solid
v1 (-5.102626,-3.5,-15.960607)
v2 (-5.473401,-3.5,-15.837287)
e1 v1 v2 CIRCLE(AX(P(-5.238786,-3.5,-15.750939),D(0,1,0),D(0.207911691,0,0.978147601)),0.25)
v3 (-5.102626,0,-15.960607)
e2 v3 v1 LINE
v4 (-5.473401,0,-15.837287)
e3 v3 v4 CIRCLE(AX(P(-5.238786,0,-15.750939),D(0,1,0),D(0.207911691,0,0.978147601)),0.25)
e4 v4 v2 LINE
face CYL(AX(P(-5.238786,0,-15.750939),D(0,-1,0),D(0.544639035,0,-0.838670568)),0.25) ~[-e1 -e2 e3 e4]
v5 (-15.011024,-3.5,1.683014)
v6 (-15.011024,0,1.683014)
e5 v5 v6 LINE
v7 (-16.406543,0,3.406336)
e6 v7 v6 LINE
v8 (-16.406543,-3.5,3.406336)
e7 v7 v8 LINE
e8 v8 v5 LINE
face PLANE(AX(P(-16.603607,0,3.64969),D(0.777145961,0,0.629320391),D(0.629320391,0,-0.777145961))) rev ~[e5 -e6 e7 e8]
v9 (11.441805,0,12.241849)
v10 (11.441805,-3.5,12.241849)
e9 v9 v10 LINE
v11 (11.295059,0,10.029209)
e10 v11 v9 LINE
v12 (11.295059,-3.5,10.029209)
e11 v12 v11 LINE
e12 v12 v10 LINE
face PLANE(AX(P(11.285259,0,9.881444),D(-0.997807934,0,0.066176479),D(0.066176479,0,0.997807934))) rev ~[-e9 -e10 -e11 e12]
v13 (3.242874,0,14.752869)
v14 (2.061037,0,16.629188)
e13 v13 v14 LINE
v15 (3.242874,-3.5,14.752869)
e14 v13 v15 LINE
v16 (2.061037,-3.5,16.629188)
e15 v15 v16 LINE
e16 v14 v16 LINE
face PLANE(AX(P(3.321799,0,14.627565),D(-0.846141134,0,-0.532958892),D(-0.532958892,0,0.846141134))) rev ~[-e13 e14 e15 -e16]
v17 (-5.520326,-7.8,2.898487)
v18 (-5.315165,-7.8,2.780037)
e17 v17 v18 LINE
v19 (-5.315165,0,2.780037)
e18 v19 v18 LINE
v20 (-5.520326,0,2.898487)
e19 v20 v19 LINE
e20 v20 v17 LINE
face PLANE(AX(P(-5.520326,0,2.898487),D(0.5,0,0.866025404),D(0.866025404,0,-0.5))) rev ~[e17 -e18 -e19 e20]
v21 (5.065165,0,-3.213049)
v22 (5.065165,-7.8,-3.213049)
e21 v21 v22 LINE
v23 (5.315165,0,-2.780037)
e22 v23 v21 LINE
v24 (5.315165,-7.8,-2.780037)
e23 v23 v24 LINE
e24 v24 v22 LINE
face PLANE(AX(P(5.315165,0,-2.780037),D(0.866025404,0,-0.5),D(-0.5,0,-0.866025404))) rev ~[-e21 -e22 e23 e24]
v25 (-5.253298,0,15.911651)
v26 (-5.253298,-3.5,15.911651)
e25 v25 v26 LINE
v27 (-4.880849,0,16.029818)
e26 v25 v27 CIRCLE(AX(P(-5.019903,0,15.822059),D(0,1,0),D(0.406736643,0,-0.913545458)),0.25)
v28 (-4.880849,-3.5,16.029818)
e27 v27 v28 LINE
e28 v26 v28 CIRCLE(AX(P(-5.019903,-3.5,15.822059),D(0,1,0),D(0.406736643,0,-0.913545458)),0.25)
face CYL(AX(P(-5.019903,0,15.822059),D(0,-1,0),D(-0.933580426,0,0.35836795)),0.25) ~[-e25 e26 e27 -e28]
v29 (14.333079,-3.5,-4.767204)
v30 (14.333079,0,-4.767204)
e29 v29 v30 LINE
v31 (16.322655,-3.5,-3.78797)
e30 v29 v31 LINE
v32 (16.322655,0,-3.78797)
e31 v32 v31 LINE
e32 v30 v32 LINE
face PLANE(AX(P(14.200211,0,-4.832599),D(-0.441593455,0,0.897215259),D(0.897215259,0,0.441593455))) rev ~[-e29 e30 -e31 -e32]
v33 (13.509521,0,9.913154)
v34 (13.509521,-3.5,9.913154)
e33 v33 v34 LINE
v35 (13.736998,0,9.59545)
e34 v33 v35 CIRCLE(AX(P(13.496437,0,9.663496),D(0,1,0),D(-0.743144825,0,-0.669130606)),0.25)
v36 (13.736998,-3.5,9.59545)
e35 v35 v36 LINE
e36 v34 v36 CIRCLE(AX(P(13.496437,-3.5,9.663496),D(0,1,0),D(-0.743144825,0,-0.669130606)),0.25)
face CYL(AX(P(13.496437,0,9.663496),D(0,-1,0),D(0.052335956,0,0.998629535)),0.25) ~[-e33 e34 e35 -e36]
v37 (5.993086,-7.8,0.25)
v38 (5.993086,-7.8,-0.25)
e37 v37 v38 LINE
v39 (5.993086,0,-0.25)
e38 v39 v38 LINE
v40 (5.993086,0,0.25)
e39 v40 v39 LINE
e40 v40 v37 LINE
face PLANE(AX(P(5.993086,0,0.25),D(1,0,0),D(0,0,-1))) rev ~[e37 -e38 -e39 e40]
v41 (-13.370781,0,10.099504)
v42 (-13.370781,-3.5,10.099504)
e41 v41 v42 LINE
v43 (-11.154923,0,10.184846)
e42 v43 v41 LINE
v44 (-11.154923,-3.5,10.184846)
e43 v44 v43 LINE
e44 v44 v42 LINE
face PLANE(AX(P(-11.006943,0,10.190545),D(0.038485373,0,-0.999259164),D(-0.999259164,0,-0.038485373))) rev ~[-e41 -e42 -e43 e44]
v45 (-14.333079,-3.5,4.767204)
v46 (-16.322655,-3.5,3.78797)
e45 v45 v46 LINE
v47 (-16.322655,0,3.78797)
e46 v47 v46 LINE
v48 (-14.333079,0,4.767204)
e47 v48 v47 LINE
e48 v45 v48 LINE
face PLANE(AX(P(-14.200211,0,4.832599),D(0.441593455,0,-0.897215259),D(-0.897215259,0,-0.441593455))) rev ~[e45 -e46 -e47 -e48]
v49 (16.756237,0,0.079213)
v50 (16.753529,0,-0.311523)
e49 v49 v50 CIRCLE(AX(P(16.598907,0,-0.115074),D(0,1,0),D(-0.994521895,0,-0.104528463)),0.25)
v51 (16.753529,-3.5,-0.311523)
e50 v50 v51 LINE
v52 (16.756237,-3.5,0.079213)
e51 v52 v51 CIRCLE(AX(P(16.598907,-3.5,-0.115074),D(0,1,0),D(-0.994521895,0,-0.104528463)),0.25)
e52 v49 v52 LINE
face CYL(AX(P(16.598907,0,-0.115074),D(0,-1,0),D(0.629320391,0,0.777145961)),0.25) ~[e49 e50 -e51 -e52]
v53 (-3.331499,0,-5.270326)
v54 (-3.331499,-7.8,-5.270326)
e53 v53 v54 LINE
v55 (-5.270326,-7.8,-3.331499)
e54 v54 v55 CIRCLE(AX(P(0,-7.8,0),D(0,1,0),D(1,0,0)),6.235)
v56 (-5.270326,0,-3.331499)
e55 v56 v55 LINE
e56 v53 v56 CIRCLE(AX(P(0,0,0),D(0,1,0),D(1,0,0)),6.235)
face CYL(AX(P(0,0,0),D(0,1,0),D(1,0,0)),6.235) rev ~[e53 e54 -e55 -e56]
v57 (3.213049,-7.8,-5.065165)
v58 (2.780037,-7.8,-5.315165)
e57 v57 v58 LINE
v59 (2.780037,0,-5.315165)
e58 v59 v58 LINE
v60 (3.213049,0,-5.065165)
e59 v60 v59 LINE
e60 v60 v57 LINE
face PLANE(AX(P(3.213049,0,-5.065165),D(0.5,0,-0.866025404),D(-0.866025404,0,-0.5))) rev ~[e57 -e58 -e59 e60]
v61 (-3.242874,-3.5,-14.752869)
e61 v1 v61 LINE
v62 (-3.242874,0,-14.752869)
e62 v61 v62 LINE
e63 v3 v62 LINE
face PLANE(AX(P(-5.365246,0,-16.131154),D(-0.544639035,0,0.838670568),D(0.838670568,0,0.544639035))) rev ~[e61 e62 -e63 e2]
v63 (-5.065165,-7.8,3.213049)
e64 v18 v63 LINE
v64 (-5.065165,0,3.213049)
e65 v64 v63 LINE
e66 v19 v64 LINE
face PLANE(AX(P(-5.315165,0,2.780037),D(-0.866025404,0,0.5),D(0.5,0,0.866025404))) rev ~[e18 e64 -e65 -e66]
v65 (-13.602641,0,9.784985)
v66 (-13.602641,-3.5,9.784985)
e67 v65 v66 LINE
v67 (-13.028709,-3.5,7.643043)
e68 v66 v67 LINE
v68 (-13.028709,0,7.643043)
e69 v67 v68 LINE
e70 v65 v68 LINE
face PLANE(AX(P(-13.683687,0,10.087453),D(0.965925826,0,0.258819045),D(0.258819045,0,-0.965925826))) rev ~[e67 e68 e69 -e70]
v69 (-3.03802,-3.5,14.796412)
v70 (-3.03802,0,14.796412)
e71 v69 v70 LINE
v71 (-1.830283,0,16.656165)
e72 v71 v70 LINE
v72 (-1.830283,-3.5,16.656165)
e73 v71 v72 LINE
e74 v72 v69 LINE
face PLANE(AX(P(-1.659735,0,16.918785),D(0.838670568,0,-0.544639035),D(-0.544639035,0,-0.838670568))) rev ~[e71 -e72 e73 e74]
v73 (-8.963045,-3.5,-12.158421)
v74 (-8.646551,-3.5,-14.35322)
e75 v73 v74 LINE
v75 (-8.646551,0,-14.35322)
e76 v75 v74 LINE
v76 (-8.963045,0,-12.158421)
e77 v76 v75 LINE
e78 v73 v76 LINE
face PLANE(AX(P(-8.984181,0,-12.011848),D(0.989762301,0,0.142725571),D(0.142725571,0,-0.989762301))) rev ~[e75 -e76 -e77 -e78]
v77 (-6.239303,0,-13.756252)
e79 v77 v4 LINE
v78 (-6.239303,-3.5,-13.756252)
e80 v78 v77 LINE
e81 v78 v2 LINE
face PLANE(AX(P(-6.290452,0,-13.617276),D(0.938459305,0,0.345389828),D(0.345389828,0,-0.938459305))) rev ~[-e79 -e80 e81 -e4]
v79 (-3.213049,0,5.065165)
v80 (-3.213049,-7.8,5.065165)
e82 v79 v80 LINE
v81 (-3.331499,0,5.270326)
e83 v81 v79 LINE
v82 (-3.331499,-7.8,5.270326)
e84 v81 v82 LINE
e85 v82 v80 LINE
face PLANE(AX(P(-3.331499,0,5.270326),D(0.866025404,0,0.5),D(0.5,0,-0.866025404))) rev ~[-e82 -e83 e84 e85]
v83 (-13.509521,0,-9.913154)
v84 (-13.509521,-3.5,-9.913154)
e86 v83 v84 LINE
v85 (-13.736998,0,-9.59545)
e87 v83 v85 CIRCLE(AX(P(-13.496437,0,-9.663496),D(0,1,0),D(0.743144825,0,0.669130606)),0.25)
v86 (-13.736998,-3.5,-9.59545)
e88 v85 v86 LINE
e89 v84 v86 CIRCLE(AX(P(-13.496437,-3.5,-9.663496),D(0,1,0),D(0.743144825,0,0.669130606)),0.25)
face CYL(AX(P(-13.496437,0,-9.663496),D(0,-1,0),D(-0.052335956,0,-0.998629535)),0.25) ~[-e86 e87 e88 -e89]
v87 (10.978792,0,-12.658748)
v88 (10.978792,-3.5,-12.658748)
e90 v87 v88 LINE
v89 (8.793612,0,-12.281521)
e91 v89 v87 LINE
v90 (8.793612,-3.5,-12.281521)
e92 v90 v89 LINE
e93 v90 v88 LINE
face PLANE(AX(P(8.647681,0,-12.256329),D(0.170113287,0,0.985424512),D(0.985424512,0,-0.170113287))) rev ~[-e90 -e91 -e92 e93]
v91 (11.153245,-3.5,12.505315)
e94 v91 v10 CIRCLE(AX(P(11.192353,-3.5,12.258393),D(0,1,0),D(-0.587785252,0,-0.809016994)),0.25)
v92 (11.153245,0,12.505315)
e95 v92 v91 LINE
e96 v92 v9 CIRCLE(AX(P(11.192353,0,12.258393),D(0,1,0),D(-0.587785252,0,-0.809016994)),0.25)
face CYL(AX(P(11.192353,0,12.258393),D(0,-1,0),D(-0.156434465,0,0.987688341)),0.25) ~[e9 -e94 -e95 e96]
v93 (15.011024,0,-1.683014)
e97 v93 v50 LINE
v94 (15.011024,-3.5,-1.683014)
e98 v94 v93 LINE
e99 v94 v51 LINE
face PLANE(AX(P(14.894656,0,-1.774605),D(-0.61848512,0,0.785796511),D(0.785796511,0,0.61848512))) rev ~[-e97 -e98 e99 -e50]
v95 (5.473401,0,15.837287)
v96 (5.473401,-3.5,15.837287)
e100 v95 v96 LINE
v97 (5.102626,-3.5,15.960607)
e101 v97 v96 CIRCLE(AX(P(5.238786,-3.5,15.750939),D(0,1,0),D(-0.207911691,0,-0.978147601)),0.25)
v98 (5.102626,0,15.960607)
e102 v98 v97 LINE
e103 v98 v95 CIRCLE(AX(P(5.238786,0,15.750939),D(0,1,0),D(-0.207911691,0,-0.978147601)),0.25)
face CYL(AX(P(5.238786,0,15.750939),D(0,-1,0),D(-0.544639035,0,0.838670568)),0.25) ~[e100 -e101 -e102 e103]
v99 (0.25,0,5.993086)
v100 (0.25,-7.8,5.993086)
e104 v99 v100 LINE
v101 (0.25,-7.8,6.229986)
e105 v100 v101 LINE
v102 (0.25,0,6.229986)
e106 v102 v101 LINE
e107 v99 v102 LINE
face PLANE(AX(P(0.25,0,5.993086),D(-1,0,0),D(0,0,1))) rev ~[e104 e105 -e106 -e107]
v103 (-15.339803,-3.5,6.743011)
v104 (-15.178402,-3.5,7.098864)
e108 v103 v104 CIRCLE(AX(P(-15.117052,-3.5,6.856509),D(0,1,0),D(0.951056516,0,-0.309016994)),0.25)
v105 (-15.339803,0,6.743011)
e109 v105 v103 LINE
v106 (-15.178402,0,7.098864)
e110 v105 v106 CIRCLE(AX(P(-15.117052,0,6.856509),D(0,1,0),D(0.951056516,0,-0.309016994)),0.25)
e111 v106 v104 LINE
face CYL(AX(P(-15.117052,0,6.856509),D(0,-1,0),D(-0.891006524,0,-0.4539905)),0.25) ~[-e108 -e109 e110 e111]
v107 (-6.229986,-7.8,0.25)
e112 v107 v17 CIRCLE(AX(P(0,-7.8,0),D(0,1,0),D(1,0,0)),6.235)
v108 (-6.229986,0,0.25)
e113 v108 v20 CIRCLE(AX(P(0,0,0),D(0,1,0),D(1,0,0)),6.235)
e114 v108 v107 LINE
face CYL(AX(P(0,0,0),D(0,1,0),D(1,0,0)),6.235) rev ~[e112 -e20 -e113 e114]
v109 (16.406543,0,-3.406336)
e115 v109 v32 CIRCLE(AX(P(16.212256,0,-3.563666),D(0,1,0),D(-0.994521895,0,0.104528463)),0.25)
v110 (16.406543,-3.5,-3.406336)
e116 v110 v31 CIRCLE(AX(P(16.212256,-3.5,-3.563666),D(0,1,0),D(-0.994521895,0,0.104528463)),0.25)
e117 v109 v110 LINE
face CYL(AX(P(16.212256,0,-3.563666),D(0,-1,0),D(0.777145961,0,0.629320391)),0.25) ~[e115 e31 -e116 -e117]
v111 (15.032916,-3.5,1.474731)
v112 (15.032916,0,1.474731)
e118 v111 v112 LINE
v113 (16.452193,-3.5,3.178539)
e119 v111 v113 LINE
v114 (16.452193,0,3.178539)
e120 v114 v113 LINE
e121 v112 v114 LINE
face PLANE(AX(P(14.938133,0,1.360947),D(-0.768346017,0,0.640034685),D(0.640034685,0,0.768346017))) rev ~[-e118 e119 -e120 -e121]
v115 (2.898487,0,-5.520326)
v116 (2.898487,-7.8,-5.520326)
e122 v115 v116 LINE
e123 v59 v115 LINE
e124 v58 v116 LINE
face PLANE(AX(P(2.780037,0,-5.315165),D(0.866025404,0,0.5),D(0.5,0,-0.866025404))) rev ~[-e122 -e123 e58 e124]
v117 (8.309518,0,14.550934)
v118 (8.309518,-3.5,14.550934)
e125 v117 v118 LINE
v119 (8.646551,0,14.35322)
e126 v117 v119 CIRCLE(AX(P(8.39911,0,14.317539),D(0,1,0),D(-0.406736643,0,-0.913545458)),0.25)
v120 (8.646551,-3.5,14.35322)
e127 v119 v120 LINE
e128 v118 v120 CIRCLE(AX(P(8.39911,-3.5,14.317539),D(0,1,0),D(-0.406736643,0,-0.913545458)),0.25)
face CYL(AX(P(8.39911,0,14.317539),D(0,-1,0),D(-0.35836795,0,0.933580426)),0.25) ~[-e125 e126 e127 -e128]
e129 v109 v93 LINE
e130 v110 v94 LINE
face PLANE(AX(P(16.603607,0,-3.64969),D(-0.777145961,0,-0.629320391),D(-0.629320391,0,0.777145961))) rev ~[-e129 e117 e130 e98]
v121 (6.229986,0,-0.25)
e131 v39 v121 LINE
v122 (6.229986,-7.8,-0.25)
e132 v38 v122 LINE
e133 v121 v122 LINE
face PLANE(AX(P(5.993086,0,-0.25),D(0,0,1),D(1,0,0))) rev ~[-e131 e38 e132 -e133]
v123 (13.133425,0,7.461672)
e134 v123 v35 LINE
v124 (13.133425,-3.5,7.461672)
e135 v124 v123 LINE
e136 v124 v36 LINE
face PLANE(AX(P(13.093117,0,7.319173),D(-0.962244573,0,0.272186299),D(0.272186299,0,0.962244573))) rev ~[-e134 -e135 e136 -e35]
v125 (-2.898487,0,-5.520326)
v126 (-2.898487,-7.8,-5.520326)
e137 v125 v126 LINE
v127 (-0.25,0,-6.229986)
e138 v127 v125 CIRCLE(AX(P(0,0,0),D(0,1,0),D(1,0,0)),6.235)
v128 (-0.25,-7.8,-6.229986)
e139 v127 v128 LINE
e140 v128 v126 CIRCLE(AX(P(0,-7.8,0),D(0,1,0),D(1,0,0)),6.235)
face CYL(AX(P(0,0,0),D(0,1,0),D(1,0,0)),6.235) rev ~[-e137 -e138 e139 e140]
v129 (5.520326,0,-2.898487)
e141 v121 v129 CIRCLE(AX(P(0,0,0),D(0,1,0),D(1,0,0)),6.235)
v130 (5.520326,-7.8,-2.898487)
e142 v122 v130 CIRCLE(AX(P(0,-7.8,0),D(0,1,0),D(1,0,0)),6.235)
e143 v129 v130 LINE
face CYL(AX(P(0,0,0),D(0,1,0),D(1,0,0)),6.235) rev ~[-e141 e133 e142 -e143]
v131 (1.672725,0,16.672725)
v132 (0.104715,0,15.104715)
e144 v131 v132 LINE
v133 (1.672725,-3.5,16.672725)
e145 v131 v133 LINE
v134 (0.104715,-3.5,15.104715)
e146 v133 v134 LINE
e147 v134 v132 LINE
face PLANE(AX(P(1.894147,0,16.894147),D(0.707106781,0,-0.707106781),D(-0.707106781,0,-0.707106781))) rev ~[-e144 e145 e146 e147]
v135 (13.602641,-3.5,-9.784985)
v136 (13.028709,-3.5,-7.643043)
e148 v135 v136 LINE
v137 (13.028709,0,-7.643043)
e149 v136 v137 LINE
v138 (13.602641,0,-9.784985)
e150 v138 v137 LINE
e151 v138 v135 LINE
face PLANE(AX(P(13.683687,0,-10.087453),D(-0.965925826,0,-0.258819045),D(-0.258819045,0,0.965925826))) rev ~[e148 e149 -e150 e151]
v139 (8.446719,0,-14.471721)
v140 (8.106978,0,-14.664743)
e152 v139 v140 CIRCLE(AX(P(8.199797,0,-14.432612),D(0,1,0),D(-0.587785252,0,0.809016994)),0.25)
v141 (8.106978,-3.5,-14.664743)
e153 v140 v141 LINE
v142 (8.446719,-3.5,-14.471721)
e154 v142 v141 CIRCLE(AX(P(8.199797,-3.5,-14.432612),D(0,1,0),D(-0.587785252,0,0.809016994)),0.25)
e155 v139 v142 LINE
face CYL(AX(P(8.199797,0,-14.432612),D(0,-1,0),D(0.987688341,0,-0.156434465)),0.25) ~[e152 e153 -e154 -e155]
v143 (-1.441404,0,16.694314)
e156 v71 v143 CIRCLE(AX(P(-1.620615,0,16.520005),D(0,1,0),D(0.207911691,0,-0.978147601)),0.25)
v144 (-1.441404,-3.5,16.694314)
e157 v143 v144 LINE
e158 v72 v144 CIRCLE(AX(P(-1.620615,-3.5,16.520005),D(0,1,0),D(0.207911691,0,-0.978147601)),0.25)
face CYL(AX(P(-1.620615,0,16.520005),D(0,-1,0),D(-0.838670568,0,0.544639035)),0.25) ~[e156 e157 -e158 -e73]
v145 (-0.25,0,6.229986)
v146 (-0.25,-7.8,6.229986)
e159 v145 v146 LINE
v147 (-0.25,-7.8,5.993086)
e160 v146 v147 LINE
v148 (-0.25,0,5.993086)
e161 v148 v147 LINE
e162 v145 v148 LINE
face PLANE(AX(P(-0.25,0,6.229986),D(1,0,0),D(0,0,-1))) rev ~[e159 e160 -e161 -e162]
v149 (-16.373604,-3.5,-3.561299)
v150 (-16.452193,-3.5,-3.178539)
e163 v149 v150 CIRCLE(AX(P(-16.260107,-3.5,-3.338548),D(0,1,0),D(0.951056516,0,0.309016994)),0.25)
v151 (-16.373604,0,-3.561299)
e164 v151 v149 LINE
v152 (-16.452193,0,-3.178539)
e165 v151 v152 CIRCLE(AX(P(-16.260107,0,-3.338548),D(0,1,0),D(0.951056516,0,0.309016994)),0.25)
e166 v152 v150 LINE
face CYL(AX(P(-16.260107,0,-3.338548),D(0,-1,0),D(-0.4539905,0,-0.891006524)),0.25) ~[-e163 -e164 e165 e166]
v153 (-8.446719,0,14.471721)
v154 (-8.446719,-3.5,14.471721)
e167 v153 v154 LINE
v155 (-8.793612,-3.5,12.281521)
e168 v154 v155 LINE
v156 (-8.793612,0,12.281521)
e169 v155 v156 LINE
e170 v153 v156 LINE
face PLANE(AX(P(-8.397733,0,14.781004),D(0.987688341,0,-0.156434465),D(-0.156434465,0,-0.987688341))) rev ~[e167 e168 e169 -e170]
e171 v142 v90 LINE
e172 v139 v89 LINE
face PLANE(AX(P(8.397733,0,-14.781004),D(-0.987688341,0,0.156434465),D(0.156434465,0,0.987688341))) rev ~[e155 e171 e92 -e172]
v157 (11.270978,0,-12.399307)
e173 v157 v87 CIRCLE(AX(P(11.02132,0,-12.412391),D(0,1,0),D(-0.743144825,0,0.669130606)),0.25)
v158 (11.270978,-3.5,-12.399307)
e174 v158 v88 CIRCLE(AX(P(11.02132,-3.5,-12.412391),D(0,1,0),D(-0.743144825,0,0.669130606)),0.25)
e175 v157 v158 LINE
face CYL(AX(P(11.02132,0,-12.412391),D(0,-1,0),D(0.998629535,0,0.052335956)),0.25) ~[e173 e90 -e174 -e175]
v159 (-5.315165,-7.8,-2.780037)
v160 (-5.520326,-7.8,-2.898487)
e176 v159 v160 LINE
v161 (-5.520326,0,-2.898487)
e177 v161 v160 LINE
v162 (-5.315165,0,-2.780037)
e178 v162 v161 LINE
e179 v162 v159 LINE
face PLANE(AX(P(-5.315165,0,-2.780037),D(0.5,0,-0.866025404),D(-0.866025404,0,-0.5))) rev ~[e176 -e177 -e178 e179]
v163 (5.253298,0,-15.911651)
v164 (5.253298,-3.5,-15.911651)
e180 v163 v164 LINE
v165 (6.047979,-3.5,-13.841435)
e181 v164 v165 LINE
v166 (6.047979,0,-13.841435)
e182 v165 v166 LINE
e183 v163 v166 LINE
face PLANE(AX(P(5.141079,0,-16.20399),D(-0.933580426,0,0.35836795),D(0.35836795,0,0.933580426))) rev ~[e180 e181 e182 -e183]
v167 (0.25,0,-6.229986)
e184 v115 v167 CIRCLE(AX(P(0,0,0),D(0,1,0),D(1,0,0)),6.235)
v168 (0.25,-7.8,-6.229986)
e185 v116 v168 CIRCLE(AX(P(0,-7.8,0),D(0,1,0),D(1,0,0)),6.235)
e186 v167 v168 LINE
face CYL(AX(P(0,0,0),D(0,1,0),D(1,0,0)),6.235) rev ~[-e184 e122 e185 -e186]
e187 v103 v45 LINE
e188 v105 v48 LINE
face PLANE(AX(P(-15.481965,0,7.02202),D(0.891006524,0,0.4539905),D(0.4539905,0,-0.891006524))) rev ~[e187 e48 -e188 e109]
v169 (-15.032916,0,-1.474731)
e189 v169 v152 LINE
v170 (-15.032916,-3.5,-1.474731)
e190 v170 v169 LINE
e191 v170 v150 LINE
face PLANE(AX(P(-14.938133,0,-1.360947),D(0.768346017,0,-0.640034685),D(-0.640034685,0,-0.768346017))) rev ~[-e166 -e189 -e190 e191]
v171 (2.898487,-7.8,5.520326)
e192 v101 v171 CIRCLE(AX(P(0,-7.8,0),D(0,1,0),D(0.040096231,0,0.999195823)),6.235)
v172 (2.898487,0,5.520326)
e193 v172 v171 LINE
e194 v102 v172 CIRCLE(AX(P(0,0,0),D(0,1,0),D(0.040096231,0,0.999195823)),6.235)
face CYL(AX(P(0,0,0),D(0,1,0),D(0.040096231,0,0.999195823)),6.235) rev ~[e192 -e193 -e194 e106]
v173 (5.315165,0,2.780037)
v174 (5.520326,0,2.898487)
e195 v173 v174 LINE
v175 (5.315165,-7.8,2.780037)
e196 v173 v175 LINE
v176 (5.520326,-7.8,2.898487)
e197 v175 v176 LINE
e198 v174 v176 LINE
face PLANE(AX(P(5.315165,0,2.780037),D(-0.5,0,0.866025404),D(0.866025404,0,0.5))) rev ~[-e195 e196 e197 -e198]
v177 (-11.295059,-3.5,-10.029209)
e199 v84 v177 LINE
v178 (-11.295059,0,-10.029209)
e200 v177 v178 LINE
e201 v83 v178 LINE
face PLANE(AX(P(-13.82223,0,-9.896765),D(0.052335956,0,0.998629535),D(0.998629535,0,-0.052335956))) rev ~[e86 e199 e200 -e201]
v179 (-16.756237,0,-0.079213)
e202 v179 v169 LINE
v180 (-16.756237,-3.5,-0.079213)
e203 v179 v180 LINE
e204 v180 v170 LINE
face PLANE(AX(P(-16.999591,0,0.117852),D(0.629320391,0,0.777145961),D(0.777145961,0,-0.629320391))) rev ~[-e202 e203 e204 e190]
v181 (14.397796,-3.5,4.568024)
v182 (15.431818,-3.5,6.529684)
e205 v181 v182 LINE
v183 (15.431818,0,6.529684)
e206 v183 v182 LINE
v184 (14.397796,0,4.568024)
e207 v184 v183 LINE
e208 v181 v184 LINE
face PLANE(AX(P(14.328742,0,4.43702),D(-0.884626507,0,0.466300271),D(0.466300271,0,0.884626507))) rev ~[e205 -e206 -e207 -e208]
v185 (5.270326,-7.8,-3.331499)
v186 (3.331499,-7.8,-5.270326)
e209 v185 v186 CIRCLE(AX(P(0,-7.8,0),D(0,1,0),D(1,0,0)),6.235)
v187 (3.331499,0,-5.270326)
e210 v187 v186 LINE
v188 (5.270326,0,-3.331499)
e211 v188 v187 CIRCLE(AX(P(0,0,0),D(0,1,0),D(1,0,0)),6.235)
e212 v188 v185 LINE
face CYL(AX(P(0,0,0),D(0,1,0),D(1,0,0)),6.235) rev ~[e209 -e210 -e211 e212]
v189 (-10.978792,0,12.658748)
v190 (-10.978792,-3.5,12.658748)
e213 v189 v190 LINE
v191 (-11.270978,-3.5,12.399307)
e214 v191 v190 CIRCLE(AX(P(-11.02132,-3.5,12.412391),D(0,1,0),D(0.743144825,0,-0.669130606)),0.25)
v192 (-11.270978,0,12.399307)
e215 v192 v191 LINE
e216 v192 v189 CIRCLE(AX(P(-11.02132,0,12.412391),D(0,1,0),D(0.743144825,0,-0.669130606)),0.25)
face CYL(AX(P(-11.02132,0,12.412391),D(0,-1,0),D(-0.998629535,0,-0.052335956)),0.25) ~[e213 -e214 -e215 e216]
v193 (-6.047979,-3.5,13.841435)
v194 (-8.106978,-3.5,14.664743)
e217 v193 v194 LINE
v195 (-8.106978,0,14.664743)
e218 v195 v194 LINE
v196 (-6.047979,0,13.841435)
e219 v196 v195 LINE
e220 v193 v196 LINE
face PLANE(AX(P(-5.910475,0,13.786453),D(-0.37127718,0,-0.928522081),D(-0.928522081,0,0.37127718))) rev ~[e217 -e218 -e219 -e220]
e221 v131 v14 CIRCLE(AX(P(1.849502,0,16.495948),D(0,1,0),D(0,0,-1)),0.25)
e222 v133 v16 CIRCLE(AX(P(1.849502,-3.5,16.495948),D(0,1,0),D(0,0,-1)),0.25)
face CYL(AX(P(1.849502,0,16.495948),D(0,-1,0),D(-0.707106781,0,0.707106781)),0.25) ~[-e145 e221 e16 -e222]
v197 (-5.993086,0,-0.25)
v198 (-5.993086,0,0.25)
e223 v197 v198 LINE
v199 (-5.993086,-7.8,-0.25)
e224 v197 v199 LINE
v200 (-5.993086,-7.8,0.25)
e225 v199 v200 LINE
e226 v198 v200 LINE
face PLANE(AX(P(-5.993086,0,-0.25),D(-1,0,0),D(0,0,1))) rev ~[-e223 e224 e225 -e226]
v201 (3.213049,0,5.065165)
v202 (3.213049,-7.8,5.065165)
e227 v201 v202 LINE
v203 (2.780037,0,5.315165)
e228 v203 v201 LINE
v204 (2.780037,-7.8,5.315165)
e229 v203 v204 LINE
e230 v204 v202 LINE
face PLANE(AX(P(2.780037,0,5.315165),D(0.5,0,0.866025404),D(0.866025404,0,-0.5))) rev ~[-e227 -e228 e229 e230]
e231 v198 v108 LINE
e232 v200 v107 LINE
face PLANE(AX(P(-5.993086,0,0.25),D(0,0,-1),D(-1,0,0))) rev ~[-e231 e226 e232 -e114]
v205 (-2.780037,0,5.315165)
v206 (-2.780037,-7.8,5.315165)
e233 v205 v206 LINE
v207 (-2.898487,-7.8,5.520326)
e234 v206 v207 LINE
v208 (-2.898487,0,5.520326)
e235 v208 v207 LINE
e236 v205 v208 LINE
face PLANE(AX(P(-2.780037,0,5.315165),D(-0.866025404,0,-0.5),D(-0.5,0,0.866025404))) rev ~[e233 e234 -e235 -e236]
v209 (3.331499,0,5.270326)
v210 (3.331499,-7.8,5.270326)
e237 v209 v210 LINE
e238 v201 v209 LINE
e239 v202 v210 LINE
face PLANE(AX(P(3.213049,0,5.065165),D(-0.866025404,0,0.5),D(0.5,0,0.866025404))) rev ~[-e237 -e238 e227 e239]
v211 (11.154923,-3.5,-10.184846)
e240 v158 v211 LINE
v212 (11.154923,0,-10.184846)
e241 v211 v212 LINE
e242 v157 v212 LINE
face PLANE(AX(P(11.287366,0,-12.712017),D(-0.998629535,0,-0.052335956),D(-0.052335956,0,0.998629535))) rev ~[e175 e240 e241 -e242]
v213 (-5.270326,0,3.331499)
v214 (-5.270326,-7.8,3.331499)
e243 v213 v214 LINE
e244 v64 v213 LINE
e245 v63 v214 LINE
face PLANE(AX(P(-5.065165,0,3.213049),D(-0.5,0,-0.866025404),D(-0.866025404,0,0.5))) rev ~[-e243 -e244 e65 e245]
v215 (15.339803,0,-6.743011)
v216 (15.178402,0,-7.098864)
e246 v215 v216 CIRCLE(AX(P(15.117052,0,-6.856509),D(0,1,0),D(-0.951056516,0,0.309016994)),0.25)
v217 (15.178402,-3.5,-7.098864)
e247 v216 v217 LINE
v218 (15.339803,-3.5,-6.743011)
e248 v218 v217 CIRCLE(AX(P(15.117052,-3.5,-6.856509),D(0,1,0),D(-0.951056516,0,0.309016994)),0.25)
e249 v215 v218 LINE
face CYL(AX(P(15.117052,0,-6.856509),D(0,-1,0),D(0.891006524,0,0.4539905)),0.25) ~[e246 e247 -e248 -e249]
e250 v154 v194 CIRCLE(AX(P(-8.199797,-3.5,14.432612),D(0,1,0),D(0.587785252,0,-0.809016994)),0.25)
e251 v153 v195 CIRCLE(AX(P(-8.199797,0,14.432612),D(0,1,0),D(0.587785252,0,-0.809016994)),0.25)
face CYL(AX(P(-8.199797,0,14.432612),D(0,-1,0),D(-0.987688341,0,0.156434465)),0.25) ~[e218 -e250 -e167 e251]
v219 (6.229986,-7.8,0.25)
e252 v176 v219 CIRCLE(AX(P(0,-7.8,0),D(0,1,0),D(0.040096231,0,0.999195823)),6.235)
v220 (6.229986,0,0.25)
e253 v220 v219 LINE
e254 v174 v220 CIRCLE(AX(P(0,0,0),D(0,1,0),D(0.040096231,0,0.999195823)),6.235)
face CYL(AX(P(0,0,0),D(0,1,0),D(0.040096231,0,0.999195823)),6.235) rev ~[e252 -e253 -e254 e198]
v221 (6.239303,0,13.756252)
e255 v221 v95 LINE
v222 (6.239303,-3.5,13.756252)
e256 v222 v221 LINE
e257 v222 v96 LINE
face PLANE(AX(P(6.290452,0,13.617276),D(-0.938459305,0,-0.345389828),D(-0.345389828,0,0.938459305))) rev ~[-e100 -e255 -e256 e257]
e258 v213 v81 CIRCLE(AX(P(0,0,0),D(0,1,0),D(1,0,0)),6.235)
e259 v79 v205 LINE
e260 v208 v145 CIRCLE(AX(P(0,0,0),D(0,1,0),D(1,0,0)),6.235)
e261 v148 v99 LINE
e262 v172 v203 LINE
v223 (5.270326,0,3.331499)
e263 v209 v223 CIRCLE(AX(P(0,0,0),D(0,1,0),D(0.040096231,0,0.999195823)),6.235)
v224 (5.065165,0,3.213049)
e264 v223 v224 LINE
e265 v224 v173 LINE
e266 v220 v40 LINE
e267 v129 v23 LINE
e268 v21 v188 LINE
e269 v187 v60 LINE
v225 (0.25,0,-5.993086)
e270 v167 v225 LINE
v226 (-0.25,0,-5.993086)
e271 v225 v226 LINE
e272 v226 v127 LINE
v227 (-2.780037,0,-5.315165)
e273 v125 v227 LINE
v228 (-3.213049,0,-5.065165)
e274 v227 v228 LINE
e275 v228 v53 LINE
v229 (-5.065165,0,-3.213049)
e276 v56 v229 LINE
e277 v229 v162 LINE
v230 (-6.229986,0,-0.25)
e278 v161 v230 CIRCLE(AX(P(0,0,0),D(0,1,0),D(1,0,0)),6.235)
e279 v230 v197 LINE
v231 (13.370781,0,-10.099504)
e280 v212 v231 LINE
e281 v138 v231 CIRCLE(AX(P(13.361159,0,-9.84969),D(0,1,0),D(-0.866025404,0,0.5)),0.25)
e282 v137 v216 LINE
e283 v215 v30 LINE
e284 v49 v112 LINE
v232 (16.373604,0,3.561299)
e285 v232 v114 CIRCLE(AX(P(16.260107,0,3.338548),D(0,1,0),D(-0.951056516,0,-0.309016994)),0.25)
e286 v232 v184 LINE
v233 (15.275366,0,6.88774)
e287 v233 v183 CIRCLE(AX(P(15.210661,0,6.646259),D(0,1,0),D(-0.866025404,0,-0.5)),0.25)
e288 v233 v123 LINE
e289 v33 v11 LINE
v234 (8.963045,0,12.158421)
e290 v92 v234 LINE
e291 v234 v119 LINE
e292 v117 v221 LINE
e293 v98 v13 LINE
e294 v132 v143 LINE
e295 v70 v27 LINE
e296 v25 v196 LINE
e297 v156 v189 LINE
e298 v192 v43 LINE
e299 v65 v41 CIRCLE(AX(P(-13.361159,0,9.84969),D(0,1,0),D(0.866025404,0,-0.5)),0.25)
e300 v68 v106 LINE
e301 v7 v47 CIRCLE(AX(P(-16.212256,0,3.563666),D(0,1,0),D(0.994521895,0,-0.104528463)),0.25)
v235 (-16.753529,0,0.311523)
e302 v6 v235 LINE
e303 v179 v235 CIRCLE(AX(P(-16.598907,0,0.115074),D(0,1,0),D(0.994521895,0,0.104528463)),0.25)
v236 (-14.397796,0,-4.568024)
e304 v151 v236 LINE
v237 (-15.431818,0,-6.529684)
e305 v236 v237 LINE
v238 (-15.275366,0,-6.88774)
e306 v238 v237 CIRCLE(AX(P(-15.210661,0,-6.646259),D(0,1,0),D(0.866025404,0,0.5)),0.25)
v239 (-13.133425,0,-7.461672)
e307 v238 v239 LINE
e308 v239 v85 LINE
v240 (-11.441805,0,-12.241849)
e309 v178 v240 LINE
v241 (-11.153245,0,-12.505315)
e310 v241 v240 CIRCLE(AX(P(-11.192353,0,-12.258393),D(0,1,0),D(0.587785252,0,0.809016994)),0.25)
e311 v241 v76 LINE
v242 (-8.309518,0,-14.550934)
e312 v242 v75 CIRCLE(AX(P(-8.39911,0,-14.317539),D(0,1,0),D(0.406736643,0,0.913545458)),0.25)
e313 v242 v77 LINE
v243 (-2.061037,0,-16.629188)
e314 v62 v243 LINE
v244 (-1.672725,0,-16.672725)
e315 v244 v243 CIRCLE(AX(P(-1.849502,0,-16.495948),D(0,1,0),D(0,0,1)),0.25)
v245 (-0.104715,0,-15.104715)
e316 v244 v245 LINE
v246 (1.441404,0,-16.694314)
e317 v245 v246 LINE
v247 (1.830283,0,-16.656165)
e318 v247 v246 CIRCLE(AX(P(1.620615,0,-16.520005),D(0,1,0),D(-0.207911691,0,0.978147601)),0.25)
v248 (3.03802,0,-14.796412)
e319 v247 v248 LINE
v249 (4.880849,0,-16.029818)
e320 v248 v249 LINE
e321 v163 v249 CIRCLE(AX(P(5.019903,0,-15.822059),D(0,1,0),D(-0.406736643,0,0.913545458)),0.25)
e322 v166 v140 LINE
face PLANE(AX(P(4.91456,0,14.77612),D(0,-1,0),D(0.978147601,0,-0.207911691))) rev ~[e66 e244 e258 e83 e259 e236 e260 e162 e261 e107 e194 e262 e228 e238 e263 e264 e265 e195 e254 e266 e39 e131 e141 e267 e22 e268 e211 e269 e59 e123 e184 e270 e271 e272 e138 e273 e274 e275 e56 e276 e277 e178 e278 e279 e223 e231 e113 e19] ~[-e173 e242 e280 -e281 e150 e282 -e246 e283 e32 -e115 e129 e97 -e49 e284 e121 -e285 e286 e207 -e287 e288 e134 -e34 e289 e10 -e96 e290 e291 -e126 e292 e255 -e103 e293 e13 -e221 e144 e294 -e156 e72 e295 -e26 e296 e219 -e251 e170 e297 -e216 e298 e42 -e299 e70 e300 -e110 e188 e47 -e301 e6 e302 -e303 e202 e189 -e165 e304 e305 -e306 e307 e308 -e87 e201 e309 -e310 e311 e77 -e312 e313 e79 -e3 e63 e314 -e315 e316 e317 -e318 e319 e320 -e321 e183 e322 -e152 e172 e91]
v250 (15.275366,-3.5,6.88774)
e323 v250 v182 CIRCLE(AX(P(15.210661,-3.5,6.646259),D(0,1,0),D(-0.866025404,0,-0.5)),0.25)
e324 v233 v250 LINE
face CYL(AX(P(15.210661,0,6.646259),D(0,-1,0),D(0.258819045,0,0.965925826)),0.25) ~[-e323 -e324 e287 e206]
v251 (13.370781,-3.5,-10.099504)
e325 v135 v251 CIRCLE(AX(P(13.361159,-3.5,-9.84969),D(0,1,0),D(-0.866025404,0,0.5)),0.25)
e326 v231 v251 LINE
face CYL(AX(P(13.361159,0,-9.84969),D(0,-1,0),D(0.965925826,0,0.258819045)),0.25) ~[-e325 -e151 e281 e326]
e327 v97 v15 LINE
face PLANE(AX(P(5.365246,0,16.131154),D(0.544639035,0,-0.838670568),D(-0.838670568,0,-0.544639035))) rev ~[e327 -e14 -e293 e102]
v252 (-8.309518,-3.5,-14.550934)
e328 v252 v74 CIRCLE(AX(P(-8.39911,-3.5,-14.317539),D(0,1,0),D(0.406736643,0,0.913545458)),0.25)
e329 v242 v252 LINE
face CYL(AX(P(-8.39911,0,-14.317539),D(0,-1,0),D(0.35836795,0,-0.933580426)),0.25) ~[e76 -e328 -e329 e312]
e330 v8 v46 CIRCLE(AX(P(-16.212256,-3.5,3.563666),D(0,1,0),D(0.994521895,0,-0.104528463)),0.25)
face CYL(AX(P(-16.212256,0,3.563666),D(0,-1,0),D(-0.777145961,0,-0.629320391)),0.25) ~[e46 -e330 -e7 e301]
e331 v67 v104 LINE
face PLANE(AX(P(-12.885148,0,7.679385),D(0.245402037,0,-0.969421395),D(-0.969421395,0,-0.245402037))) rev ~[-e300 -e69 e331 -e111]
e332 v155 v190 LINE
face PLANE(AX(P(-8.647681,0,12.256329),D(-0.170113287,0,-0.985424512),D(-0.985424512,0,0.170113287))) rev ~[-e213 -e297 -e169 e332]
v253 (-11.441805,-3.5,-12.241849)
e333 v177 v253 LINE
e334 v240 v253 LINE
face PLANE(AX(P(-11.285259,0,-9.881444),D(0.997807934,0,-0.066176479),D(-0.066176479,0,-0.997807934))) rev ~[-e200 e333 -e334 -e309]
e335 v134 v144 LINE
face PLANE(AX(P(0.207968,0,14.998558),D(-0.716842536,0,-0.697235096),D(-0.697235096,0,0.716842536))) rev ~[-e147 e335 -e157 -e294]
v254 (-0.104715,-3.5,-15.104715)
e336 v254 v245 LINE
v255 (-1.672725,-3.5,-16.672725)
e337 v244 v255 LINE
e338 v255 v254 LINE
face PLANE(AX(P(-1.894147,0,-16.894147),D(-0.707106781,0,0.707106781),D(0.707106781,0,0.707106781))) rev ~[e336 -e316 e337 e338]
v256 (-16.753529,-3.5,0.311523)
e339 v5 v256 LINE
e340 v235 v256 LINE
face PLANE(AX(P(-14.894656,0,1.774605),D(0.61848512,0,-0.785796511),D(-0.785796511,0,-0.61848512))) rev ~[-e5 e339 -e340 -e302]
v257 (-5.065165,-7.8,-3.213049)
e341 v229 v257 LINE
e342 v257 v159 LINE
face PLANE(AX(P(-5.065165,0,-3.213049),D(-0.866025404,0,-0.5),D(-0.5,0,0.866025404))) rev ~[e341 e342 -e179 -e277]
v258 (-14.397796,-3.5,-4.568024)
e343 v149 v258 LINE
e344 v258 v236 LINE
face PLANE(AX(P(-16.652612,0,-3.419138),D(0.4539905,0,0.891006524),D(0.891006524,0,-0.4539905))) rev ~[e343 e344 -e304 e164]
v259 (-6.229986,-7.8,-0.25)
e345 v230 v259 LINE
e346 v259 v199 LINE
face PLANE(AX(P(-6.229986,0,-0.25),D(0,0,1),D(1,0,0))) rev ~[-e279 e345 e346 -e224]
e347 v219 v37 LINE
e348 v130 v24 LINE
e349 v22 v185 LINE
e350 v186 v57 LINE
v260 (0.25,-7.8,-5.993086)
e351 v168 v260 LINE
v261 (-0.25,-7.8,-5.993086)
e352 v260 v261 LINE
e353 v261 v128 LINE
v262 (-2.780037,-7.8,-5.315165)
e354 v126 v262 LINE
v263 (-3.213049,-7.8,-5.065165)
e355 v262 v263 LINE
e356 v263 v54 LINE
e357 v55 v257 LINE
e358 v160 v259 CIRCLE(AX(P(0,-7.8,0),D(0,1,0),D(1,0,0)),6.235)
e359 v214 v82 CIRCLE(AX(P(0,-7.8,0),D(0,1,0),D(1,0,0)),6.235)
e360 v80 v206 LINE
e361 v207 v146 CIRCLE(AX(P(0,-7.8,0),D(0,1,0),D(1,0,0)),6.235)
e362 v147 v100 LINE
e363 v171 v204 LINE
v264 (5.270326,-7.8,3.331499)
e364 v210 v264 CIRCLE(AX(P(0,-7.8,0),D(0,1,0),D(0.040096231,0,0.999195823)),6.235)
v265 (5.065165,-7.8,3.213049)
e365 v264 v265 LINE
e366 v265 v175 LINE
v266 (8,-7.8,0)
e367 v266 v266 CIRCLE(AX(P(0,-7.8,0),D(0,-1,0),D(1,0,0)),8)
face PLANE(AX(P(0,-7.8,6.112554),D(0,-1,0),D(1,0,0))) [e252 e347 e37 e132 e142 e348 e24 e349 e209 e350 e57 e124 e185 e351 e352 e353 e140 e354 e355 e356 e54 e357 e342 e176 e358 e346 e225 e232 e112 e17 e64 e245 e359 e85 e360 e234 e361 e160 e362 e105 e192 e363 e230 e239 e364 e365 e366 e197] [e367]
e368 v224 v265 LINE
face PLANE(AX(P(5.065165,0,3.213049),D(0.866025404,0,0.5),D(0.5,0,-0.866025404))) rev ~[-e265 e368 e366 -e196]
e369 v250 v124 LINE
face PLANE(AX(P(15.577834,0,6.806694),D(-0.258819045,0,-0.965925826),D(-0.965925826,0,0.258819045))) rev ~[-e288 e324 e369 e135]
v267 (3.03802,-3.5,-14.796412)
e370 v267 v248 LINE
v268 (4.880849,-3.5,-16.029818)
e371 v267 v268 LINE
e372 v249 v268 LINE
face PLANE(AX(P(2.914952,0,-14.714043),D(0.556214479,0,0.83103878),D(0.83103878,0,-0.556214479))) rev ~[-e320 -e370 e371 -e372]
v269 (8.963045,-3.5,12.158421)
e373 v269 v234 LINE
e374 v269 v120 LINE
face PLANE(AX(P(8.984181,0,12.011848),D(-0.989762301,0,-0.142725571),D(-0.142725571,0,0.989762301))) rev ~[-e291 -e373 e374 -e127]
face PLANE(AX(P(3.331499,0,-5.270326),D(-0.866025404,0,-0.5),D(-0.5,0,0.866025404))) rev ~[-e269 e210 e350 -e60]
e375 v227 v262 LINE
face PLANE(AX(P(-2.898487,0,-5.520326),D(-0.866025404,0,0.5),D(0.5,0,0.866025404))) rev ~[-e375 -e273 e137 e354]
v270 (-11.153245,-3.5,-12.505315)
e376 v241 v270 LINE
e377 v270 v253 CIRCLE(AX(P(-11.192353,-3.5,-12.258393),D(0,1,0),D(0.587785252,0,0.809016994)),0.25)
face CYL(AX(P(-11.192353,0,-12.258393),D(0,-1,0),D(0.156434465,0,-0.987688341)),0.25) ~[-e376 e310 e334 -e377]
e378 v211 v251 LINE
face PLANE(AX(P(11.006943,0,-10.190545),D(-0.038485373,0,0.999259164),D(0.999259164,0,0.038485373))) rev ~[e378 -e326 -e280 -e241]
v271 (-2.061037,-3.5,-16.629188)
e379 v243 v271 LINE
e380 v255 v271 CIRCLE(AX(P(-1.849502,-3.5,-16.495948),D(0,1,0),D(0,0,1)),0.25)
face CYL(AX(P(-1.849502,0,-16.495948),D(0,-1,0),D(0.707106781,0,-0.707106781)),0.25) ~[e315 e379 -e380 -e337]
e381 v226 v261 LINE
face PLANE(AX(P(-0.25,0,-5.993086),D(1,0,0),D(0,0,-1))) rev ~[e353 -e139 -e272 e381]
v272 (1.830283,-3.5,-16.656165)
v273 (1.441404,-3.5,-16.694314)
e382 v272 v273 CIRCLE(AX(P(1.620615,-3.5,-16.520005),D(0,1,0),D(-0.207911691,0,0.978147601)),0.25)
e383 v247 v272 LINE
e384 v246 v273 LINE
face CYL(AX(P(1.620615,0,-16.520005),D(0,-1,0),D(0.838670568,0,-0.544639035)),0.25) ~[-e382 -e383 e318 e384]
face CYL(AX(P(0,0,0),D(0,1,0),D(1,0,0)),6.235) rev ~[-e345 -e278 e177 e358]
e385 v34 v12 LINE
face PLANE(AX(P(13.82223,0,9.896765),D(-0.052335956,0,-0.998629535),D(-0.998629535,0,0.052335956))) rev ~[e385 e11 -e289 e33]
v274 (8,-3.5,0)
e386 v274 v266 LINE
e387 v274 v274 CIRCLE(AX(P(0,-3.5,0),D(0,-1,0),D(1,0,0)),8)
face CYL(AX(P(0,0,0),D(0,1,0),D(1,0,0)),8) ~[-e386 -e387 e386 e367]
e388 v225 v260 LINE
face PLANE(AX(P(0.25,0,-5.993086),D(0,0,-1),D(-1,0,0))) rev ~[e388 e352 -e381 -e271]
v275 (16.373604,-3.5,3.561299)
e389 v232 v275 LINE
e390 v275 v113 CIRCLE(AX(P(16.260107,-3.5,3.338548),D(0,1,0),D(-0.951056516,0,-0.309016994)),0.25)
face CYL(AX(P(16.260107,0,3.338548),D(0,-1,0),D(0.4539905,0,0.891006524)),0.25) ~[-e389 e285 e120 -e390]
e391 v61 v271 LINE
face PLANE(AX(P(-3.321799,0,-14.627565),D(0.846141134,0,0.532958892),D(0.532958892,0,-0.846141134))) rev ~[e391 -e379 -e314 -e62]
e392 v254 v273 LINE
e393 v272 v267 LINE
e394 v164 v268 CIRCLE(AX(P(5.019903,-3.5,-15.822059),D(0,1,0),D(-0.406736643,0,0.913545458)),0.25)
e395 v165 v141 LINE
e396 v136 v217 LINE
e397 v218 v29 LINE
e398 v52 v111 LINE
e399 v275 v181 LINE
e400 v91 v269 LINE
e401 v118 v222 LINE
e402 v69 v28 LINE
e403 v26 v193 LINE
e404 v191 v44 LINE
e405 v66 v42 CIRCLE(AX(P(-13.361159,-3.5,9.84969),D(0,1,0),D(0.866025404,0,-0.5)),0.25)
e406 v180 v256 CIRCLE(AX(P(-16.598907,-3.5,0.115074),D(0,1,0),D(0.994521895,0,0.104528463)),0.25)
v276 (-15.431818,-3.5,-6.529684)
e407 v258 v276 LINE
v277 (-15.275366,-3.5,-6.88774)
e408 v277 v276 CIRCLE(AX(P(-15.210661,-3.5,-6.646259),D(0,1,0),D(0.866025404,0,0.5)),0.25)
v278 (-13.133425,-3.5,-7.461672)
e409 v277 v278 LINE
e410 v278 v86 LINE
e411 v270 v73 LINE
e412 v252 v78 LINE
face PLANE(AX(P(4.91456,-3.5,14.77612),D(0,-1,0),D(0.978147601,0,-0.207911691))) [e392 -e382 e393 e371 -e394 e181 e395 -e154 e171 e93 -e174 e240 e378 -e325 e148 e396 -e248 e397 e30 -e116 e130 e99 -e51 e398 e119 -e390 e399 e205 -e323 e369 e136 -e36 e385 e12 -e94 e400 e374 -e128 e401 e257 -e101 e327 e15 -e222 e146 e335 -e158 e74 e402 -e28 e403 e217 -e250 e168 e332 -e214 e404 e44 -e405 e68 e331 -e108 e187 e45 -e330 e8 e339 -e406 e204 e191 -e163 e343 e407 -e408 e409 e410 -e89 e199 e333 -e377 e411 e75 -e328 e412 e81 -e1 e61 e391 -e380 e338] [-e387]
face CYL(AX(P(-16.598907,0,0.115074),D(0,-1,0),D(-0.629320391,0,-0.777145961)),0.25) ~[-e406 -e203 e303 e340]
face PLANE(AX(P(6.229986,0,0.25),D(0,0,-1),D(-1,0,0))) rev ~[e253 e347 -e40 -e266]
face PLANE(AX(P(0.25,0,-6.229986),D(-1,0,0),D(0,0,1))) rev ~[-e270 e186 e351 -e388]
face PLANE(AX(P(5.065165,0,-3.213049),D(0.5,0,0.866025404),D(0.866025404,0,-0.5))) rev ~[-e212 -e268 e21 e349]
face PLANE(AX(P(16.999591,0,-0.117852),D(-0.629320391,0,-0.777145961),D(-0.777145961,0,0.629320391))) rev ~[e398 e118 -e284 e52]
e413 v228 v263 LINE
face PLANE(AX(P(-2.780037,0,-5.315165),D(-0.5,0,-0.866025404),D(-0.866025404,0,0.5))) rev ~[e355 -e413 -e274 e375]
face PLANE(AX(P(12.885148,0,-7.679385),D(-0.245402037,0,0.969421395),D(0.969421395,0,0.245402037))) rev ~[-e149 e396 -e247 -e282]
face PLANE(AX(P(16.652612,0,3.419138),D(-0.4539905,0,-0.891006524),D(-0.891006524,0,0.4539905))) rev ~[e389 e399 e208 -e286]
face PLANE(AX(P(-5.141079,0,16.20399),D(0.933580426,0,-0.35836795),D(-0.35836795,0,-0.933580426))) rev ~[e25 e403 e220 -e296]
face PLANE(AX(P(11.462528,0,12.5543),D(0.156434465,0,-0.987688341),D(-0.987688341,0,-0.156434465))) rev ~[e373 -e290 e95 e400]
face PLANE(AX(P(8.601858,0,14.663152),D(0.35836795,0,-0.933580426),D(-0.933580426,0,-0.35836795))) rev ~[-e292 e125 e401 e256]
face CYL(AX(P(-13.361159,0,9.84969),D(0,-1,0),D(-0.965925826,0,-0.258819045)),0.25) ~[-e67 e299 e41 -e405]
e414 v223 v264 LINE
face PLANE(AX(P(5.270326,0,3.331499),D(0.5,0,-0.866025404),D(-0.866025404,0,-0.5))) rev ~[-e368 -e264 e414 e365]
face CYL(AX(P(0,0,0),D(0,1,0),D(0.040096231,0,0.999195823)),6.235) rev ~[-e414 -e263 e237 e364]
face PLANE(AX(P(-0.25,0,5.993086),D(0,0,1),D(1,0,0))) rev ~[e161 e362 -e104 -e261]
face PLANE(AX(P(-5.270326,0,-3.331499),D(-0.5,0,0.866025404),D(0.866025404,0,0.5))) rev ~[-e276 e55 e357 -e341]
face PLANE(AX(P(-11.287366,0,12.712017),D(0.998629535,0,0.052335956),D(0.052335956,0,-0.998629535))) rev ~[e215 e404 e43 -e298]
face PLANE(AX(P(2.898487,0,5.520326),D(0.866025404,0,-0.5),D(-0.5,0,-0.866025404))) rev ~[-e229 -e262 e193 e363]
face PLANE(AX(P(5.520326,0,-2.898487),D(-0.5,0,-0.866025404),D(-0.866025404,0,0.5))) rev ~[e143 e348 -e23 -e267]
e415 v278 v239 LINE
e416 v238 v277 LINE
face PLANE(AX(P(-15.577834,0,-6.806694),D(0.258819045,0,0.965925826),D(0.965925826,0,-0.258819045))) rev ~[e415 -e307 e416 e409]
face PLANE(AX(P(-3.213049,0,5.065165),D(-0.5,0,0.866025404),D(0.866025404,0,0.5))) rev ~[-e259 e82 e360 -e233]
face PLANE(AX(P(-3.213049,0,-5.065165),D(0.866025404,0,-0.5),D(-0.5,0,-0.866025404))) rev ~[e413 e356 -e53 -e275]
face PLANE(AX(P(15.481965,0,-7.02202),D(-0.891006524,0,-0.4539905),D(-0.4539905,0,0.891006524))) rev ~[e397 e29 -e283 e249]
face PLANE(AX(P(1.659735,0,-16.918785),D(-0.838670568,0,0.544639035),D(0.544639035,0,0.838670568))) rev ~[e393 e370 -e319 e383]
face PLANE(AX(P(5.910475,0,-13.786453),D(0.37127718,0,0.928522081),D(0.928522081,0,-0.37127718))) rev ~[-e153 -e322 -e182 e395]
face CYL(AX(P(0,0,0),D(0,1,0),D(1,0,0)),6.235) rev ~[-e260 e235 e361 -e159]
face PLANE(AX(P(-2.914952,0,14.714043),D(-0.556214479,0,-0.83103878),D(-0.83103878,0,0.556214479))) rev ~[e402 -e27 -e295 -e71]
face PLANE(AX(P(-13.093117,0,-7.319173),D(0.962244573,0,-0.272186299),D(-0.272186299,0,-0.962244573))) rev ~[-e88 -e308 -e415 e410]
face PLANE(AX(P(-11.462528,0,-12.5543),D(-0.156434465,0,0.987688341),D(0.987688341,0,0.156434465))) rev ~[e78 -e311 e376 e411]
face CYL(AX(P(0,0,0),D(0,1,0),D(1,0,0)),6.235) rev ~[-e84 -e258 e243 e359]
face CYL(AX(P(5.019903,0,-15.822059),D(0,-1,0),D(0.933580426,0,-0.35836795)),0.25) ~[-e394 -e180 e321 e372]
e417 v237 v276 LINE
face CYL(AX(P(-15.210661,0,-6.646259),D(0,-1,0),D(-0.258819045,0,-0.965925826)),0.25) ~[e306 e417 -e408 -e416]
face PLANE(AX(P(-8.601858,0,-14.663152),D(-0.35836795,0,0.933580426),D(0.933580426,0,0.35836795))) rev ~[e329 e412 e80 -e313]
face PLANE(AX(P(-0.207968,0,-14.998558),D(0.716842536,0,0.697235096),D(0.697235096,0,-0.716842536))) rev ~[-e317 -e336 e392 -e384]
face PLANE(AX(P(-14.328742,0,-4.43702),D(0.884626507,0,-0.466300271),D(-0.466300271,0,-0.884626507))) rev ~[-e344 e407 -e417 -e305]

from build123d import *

# Parameters (mm, degrees)
F0_R     = 8
F1_DEPTH = 7.8
F0_R_2   = 15
F2_DEPTH = 3.5
F3_DEPTH = 7.8
F4_COUNT = 12
F6_DEPTH = 3.5
F8_R     = 0.25
F9_COUNT = 30


with BuildPart() as f1:
    # F0 (on Front) → F1 (new body)
    with BuildSketch(Plane.XZ):
        Circle(F0_R)
        with BuildLine():
            ThreePointArc((0.25, 6.229985955), (4.4963304483, 4.3195182023), (6.235, 0))
            ThreePointArc((6.235, 0), (-4.3195182023, -4.4963304483), (-0.25, 6.229985955))
            ThreePointArc((-0.25, 6.229985955), (0, 6.235), (0.25, 6.229985955))
        make_face(mode=Mode.SUBTRACT)
    extrude(amount=F1_DEPTH)

    # F0 (on Front) → F2 (join)
    with BuildSketch(Plane.XZ):
        Circle(F0_R_2)
        Circle(F0_R, mode=Mode.SUBTRACT)
    extrude(amount=F2_DEPTH)

    # F4: F3 ×12 about axis
    f4_axis = Axis((0, 0, 0), (0, -1, 0))


with BuildPart() as f3:
    # F0 (on Front) → F3 (new body)
    with BuildSketch(Plane.XZ):
        with BuildLine():
            Line((0.25, 5.993085955), (0.25, 6.229985955))
            ThreePointArc((0.25, 6.229985955), (0, 6.235), (-0.25, 6.229985955))
            Line((-0.25, 6.229985955), (-0.25, 5.993085955))
            Line((-0.25, 5.993085955), (0.25, 5.993085955))
        make_face()
    extrude(amount=F3_DEPTH)


with BuildPart() as f1_1:
    add(f1.part)
    for i in range(1, F4_COUNT):
        add(f3.part.rotate(f4_axis, i * 360 / F4_COUNT))



with BuildPart() as f6:
    # F5 (on Front) → F6 (new body)
    with BuildSketch(Plane.XZ):
        with BuildLine():
            Line((1.894147114, 16.894147114), (0, 15))
            ThreePointArc((0, 15), (1.6713062771, 14.9066003947), (3.321799308, 14.6275647104))
            Line((3.321799308, 14.6275647104), (1.894147114, 16.894147114))
        make_face()
    extrude(amount=F6_DEPTH)

    # F8
    f8_edges = [f6.edges().sort_by_distance(p)[0] for p in [
        (1.894147, -1.75, 16.894147),
    ]]
    fillet(f8_edges, radius=F8_R)


with BuildPart() as f1_2:
    add(f1_1.part)

    add(f3.part)  # F9 merges F3

    add(f6.part)  # F9 merges F6
    # F9: F6 ×30 about axis
    f9_axis = Axis((0, -8.9512197301, 0), (0, -1, 0))
    for i in range(1, F9_COUNT):
        add(f6.part.rotate(f9_axis, i * 360 / F9_COUNT))


solid = f1_2.part
